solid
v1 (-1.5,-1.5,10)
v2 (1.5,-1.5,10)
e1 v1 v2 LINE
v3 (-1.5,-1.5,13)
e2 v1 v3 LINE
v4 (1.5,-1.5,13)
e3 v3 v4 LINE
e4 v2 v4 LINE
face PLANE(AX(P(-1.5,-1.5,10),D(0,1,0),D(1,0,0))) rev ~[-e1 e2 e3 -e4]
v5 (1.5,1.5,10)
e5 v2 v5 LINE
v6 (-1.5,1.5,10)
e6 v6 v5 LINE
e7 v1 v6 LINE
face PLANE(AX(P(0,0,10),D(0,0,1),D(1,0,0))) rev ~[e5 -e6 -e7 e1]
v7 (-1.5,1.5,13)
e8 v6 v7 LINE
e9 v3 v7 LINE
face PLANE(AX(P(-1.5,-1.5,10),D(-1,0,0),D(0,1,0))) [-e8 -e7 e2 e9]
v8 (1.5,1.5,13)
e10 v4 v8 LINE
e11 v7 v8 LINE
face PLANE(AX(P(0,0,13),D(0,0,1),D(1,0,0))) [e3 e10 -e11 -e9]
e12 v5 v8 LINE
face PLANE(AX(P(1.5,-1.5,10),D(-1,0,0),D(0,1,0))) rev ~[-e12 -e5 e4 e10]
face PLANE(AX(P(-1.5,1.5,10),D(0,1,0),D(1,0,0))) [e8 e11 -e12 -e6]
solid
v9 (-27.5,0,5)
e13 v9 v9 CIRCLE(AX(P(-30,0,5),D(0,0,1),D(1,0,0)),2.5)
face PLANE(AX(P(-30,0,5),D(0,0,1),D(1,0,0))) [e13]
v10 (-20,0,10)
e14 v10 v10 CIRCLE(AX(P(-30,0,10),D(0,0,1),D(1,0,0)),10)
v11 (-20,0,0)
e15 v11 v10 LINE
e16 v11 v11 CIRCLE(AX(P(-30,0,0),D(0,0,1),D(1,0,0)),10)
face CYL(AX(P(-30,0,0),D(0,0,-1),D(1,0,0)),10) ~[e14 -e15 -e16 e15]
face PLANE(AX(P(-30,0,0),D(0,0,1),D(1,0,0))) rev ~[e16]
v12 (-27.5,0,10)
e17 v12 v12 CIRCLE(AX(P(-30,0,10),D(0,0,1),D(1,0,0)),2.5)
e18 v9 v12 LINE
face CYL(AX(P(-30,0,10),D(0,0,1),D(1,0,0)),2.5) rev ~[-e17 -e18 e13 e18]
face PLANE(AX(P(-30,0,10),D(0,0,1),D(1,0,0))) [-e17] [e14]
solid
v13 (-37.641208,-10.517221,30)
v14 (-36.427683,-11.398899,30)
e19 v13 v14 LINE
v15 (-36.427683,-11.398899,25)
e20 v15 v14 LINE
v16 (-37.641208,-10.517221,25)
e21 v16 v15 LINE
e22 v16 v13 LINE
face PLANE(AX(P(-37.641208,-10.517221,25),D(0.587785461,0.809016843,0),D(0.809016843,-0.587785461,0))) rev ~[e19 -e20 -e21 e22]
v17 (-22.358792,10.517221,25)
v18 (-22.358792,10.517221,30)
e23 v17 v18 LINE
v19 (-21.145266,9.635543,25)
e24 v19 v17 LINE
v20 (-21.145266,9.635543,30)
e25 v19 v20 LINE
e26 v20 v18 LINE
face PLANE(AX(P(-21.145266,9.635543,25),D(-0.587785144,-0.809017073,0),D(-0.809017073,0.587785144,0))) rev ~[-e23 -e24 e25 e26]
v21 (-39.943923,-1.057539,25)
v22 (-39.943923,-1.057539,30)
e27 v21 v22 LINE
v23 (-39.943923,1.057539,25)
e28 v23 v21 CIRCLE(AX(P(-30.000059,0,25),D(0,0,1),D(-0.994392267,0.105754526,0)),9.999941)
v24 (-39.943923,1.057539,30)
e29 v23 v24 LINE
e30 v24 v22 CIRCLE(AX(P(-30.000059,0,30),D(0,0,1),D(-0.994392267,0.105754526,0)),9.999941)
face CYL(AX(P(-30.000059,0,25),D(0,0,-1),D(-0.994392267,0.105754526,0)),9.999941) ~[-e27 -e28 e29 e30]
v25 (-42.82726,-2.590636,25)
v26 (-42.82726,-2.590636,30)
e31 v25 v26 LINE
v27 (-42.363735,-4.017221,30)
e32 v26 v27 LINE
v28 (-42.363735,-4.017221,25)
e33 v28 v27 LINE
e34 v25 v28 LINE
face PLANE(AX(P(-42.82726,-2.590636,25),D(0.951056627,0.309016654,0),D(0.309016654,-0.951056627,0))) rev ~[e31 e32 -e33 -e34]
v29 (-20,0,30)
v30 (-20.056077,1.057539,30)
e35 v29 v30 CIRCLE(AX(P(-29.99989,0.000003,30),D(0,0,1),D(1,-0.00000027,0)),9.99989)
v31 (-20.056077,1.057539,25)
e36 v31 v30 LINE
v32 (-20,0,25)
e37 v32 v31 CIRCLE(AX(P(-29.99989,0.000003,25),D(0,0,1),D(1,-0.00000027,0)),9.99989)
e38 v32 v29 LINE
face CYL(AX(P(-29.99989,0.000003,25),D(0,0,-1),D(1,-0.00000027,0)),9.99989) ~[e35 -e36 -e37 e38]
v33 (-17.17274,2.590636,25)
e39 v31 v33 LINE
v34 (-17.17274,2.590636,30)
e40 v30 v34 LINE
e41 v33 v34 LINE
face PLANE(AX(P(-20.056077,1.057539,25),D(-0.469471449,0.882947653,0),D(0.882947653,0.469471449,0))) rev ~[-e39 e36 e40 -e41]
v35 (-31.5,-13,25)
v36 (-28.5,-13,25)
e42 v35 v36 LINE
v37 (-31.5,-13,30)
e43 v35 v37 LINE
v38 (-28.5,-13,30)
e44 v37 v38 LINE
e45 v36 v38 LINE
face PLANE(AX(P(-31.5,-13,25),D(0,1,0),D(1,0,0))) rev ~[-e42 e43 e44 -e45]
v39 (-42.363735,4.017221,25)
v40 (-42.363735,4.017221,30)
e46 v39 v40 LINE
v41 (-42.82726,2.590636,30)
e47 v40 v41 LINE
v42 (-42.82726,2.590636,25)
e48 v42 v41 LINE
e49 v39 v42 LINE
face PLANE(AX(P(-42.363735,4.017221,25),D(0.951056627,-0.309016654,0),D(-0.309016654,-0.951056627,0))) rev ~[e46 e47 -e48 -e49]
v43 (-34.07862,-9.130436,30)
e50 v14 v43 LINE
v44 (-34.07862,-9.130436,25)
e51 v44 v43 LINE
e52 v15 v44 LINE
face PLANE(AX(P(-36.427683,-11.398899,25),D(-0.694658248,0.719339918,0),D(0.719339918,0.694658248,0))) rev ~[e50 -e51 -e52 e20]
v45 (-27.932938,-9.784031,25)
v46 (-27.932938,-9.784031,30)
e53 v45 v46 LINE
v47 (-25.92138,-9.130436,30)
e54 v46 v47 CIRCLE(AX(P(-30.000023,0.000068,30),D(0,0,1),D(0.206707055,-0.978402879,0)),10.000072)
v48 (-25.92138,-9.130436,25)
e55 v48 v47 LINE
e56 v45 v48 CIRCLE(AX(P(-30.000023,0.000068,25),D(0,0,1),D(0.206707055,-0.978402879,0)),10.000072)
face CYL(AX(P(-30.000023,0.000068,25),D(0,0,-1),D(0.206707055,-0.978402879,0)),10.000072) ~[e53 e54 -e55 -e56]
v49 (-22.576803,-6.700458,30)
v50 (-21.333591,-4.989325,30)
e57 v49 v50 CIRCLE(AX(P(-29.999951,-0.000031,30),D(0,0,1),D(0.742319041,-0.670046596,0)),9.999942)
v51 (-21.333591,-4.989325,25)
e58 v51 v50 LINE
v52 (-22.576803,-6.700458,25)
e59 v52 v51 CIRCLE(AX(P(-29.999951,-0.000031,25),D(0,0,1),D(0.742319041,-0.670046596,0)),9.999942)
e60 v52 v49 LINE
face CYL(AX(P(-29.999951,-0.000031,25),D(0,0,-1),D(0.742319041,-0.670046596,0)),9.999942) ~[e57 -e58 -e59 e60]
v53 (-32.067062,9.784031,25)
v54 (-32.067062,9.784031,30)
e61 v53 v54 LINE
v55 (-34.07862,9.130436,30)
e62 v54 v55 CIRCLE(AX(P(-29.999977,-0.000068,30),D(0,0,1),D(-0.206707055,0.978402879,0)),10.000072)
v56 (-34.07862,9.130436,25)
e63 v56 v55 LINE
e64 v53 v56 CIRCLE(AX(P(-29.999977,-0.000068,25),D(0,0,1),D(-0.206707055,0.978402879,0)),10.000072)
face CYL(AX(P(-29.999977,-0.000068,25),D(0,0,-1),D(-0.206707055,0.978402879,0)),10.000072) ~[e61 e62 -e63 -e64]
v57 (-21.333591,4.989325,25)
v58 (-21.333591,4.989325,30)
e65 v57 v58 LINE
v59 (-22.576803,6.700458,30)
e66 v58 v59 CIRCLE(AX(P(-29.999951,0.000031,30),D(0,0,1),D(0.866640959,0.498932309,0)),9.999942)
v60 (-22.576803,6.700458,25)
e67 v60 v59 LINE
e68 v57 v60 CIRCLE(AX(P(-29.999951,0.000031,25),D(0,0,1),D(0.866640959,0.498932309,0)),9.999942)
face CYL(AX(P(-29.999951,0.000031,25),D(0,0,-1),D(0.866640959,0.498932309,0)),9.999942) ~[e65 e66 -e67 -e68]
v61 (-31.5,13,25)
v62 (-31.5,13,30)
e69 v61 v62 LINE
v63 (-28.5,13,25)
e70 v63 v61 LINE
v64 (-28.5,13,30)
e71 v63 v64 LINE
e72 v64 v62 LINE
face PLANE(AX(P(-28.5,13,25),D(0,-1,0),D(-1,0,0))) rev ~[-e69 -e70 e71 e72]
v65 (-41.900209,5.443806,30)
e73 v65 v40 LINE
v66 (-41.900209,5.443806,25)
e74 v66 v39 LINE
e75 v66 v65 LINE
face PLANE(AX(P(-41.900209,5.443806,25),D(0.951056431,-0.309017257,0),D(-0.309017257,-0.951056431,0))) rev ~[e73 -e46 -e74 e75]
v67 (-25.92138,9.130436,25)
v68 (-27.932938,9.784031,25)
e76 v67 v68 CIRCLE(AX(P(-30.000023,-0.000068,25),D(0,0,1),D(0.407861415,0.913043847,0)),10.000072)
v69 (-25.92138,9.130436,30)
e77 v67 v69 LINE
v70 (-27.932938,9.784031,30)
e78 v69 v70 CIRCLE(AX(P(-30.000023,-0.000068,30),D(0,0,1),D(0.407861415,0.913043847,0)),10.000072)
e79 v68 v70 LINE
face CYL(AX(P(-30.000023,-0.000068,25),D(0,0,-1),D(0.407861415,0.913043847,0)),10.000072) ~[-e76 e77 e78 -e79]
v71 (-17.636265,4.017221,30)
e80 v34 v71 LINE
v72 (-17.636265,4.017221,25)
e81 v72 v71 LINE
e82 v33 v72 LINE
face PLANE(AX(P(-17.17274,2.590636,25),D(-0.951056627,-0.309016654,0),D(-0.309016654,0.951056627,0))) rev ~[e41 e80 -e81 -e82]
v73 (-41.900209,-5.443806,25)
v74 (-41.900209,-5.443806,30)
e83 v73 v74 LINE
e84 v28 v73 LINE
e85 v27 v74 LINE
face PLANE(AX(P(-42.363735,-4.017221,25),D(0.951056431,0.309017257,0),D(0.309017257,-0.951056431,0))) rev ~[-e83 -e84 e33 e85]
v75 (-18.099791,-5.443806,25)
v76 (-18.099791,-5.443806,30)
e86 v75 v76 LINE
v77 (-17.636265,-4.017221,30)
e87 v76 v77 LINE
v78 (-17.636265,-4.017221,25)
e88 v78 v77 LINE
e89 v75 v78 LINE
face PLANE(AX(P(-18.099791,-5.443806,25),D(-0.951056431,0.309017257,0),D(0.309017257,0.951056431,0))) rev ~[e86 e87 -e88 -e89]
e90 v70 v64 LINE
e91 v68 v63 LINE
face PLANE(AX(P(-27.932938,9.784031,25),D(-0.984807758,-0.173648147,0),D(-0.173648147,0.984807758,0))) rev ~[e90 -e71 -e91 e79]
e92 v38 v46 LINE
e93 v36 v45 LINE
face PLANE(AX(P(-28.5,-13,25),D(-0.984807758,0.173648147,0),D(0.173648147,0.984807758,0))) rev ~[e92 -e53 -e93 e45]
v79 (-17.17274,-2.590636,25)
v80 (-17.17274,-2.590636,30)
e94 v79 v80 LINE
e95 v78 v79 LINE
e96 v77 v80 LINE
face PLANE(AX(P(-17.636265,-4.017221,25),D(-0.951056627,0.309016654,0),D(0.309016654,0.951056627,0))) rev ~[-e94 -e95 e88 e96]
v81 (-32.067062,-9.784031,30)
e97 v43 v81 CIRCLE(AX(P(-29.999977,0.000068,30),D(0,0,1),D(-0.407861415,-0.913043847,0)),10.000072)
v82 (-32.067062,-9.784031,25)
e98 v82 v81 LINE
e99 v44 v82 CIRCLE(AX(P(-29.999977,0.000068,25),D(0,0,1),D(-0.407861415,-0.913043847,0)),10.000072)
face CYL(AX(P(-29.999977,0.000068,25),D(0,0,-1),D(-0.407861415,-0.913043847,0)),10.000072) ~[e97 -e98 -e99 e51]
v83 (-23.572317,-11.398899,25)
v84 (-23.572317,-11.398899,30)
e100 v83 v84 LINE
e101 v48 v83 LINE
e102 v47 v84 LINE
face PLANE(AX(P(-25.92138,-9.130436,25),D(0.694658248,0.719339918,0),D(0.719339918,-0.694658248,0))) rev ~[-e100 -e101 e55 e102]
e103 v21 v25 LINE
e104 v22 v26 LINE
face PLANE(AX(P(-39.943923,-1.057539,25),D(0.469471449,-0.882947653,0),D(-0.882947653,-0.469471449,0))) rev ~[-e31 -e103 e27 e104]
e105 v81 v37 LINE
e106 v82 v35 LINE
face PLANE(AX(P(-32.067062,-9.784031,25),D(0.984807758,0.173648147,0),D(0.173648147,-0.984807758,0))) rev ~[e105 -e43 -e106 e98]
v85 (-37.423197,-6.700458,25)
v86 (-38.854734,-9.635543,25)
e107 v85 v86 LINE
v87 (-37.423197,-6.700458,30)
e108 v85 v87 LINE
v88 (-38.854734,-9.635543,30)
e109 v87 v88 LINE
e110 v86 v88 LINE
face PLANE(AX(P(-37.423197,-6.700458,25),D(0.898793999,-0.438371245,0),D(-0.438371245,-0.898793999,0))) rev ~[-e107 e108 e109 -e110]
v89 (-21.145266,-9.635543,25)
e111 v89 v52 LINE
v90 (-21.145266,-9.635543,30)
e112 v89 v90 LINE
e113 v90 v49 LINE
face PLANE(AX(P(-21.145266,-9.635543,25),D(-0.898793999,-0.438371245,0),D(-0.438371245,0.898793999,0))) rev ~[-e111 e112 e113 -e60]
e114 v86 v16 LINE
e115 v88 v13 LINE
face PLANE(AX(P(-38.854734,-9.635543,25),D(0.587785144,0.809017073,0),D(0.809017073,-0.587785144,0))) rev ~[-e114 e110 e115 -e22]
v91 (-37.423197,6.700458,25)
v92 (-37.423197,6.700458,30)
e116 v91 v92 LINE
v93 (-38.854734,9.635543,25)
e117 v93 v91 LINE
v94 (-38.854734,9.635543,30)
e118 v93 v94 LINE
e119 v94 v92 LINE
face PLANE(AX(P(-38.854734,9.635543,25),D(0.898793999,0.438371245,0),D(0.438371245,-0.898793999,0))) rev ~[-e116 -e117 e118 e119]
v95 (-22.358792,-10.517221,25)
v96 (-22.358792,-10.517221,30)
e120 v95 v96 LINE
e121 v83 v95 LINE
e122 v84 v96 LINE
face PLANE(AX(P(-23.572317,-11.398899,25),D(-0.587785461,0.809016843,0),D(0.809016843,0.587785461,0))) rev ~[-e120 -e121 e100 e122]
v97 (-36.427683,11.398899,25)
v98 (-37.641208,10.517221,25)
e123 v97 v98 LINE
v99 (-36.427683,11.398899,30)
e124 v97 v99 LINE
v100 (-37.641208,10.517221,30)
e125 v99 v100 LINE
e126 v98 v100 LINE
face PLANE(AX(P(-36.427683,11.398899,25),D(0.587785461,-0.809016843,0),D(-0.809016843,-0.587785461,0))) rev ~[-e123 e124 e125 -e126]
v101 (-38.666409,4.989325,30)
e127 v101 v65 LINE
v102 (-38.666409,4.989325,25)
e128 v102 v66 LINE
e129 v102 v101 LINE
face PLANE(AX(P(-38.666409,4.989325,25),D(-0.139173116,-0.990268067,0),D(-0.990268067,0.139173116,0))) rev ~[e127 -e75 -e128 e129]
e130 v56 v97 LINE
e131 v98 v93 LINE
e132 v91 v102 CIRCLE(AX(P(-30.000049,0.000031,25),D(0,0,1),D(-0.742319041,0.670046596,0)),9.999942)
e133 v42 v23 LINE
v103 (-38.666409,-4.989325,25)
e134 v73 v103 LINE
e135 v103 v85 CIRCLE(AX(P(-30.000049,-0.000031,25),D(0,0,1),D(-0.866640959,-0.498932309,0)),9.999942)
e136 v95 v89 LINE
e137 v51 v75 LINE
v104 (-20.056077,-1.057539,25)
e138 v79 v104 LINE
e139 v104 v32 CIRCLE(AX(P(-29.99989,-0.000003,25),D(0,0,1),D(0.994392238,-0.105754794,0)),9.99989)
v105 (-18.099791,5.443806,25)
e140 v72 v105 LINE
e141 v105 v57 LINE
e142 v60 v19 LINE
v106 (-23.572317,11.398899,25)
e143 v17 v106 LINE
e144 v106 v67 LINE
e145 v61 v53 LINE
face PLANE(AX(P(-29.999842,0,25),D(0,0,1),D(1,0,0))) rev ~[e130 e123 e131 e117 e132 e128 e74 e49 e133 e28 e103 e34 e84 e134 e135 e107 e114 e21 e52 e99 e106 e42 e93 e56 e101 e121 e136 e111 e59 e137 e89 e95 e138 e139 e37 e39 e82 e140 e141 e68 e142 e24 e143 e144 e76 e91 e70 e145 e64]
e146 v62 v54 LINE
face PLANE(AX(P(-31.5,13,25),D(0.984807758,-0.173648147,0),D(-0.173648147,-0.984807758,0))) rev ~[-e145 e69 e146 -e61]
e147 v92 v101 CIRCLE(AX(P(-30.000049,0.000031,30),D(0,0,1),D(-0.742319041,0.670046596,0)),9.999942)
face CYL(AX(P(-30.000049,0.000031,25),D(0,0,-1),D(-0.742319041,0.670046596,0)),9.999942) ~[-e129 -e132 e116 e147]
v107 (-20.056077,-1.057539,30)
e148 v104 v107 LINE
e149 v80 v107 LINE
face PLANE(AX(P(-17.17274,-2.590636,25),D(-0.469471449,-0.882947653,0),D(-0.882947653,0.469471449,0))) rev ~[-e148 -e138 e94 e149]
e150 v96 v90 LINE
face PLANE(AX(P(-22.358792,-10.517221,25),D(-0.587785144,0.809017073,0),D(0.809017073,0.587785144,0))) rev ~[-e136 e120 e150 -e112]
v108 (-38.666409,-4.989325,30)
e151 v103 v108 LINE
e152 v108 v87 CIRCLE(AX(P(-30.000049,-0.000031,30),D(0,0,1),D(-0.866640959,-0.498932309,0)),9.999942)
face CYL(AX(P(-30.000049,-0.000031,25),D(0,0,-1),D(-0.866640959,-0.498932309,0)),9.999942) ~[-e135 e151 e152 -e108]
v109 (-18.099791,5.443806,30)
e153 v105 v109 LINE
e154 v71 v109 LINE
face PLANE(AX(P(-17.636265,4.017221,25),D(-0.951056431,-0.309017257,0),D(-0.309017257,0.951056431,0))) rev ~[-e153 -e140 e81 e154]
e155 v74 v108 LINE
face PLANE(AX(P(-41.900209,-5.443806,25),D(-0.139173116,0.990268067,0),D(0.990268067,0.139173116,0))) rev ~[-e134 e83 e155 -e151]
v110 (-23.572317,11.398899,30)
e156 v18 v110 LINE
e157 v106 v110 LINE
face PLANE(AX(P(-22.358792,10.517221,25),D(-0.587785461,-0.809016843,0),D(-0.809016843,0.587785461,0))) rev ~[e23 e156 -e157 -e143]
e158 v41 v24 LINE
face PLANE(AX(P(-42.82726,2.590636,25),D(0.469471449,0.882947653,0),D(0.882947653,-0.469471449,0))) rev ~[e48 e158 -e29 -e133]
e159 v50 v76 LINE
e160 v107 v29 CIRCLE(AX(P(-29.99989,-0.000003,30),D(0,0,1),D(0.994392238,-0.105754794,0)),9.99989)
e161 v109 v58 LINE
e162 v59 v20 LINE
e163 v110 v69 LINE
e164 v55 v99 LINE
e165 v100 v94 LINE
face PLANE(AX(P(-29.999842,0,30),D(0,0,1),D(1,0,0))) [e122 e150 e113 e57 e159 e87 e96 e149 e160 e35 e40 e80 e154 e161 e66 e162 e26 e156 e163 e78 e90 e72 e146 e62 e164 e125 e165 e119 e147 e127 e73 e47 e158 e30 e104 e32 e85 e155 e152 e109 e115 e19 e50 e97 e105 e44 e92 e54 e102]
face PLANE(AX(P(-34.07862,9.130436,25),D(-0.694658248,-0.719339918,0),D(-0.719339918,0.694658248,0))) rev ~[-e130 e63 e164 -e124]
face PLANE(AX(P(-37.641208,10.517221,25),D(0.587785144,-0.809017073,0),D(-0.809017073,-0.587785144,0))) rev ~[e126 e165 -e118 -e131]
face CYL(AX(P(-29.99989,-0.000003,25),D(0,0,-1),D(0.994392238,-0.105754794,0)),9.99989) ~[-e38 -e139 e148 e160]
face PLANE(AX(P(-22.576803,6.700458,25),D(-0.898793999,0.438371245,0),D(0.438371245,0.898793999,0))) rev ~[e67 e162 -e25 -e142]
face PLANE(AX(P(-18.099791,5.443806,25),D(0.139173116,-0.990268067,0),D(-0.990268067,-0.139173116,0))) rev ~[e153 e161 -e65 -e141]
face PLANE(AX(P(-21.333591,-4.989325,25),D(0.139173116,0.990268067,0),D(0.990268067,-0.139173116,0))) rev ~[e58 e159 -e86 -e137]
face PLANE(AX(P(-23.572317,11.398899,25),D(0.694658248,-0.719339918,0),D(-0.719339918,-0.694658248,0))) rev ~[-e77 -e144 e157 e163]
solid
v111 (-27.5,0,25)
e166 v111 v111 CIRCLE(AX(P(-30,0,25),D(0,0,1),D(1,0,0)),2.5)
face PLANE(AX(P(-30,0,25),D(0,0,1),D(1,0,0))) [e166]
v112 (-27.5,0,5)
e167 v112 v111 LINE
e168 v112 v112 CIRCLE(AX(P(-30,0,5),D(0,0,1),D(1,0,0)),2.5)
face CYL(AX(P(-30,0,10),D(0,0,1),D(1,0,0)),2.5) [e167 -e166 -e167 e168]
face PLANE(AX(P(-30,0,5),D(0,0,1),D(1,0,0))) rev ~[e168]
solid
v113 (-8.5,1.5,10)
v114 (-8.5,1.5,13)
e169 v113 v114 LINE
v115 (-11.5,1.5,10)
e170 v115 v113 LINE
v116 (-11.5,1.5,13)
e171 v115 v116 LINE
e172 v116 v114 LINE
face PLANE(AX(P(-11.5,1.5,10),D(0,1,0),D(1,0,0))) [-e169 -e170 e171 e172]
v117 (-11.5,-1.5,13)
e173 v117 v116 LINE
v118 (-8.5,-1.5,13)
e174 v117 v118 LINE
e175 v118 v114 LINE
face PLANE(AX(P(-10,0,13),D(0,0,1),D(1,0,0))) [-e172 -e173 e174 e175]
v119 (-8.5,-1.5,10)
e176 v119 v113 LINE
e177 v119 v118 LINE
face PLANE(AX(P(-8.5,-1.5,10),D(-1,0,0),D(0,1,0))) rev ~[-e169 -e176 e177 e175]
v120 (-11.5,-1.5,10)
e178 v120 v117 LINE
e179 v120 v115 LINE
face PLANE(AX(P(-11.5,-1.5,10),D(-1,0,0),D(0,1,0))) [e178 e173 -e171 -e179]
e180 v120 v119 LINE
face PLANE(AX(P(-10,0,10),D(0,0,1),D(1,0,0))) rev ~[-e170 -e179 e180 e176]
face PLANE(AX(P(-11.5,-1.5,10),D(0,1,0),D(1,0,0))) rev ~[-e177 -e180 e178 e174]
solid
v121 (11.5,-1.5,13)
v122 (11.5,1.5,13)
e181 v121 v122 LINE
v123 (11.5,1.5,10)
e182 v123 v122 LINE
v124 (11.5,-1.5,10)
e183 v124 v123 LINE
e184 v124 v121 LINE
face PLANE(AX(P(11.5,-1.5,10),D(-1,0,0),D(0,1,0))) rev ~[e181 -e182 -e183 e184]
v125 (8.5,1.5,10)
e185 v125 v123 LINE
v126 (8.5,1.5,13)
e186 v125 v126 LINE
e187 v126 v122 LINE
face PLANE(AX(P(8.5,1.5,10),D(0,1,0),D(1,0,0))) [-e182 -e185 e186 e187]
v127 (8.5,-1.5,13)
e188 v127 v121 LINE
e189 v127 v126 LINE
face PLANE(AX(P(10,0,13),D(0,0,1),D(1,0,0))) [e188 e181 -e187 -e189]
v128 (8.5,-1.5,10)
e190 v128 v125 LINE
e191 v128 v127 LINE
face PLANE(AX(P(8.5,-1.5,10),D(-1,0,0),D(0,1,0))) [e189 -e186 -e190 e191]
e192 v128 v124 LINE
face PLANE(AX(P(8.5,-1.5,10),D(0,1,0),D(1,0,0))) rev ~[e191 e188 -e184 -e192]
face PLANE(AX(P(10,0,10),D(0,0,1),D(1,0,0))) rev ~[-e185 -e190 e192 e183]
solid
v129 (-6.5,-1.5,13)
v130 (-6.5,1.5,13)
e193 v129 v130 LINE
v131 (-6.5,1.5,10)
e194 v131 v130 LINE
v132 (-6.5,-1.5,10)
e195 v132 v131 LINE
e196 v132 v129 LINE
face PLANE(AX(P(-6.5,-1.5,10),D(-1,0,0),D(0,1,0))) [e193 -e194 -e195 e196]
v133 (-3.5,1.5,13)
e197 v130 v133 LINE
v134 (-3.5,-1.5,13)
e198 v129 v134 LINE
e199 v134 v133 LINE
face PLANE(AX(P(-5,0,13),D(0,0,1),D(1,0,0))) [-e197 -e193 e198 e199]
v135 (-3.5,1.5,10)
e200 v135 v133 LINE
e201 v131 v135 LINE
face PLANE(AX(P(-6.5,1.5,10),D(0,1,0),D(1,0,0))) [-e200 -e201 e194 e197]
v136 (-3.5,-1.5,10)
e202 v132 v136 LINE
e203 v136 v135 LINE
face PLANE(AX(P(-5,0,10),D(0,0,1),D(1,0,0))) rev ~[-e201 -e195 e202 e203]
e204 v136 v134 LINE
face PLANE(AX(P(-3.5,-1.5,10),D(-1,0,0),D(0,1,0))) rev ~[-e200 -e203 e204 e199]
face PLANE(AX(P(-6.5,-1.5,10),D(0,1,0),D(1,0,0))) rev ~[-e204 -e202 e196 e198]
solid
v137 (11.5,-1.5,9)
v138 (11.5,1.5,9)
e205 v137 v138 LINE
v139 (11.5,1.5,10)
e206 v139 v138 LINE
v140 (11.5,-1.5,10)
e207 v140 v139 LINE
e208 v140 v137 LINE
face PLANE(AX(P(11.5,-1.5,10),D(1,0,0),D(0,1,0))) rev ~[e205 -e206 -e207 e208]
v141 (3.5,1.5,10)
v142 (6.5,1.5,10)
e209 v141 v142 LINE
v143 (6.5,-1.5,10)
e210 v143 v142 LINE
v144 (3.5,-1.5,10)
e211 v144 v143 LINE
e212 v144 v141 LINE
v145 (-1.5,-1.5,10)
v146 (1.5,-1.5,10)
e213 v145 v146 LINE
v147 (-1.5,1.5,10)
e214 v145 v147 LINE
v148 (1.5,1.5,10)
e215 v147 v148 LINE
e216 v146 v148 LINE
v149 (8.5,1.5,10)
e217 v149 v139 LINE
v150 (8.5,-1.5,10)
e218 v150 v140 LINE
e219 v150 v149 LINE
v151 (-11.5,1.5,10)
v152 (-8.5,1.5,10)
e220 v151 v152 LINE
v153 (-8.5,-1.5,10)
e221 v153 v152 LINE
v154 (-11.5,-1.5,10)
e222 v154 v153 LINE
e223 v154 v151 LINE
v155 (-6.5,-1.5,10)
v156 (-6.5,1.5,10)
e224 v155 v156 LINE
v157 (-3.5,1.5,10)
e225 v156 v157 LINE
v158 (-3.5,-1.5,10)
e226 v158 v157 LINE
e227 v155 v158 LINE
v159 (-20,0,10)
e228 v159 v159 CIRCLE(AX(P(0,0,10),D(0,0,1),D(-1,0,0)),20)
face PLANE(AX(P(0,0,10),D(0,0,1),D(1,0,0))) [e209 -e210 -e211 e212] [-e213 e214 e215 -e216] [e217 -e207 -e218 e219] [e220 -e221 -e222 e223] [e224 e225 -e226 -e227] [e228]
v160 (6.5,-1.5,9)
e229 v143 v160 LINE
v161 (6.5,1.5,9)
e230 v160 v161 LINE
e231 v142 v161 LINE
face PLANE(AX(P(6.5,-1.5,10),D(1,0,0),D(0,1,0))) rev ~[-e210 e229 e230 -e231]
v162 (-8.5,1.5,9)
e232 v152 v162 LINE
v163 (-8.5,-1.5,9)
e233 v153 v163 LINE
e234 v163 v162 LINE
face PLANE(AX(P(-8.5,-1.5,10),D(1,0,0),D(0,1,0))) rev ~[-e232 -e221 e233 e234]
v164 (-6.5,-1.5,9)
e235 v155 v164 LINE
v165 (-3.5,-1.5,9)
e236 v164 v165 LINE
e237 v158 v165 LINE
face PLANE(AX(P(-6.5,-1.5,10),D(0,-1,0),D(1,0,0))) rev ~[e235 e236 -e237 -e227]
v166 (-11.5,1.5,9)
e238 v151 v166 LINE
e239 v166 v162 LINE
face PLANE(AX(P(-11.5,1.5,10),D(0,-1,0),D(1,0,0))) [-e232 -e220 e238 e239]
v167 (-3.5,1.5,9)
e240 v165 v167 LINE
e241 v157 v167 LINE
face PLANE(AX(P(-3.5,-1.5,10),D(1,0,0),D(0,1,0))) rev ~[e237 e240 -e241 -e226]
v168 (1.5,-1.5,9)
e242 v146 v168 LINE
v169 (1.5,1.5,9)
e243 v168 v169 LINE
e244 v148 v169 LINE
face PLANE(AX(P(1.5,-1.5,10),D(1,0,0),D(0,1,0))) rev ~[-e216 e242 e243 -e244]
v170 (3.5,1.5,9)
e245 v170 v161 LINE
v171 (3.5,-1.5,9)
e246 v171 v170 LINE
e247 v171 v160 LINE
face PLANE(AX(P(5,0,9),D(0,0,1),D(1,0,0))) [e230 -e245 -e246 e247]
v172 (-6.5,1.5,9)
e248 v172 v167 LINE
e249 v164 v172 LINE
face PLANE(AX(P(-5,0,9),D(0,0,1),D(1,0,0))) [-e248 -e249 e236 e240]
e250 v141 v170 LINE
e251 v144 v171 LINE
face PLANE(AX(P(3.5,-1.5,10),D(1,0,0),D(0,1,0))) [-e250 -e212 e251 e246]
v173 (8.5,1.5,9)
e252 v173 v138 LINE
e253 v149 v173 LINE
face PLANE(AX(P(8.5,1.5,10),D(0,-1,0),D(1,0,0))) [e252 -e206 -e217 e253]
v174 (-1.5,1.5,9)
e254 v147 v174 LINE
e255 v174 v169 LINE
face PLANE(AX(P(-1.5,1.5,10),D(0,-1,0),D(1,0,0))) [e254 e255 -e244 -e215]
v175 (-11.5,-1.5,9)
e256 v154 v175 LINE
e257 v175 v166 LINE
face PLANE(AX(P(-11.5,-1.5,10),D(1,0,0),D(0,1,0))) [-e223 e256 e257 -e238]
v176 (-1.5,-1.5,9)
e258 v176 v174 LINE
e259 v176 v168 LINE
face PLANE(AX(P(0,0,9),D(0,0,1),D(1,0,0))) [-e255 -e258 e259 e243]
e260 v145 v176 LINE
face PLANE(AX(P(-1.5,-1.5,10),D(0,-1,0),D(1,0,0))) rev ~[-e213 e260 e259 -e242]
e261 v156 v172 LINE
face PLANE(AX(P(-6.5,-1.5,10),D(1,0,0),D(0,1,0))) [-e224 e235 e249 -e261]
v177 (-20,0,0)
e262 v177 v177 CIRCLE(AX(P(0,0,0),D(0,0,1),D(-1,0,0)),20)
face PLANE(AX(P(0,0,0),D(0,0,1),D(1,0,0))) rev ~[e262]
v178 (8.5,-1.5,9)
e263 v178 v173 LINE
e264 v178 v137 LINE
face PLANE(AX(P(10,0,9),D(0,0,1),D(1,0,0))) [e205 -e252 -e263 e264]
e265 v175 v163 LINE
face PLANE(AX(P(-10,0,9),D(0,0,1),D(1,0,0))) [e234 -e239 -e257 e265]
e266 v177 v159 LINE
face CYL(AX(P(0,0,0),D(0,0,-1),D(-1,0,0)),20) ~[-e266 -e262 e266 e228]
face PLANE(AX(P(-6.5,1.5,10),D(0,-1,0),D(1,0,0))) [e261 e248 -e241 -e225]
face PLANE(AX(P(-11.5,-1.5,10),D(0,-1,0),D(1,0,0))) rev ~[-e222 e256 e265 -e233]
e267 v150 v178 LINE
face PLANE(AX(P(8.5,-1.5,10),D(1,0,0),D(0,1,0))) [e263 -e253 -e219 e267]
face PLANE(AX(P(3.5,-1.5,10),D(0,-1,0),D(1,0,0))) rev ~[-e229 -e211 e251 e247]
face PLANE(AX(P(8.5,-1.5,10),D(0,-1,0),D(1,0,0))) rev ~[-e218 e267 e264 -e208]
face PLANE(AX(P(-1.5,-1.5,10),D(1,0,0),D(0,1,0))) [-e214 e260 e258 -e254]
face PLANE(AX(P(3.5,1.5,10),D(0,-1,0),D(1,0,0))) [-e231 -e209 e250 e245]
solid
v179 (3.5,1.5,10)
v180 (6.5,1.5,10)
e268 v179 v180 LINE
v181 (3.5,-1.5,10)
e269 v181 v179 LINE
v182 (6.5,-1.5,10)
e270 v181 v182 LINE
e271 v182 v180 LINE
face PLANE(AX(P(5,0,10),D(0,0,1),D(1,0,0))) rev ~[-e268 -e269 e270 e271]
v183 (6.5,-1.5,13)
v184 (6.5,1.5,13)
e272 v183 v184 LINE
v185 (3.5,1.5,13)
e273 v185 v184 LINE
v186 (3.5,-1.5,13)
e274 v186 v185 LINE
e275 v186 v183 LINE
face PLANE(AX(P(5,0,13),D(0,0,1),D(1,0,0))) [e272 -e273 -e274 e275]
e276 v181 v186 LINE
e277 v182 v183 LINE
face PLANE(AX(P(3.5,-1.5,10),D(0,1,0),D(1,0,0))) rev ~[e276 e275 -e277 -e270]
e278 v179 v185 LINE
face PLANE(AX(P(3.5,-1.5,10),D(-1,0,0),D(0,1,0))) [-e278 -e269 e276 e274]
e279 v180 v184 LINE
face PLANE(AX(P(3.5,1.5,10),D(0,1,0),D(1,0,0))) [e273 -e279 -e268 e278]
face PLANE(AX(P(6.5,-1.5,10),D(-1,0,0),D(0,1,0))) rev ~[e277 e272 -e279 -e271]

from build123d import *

# Parameters (mm, degrees)
F0_R          = 10
F1_DEPTH      = 10
F2_R          = 2.5
F3_DEPTH      = 15
F3_DEPTH_BACK = 5
F5_DEPTH      = 5
F7_W          = 3
F7_H          = 3
F8_DEPTH      = 1
F9_DEPTH      = 3


with BuildPart() as f1:
    # F0 (on Top) → F1 (new body)
    with BuildSketch(Plane.XY):
        with BuildLine():
            ThreePointArc((-20, 0), (0, -20), (20, 0))
            ThreePointArc((20, 0), (0, 20), (-20, 0))
        make_face()
        with Locations((-30, 0)):
            Circle(F0_R)
    extrude(amount=F1_DEPTH)


with BuildPart() as f3:
    # F2 (on face) → F3 (new body, two sides)
    with BuildSketch(Plane.XY.offset(10)) as f3_sk:
        with Locations((-30, 0)):
            Circle(F2_R)
    extrude(amount=F3_DEPTH)
    extrude(f3_sk.sketch, amount=-F3_DEPTH_BACK)


with BuildPart() as f5:
    # F4 (on face) → F5 (new body)
    with BuildSketch(Plane.XY.offset(25)):
        with BuildLine():
            ThreePointArc((-20.056077, -1.057539), (-20.014029, -0.529512), (-20, 0))
            ThreePointArc((-20, 0), (-20.014029, 0.529512), (-20.056077, 1.057539))
            ThreePointArc((-20.056077, 1.057539), (-20.489435, 3.09017), (-21.333591, 4.989325))
            ThreePointArc((-21.333591, 4.989325), (-21.90983, 5.877853), (-22.576803, 6.700458))
            ThreePointArc((-22.576803, 6.700458), (-24.122147, 8.09017), (-25.92138, 9.130436))
            ThreePointArc((-25.92138, 9.130436), (-26.90983, 9.510565), (-27.932938, 9.784031))
            ThreePointArc((-27.932938, 9.784031), (-30, 10), (-32.067062, 9.784031))
            ThreePointArc((-32.067062, 9.784031), (-33.09017, 9.510565), (-34.07862, 9.130436))
            ThreePointArc((-34.07862, 9.130436), (-35.877853, 8.09017), (-37.423197, 6.700458))
            ThreePointArc((-37.423197, 6.700458), (-38.09017, 5.877853), (-38.666409, 4.989325))
            ThreePointArc((-38.666409, 4.989325), (-39.510565, 3.09017), (-39.943923, 1.057539))
            ThreePointArc((-39.943923, 1.057539), (-40, 0), (-39.943923, -1.057539))
            ThreePointArc((-39.943923, -1.057539), (-39.510565, -3.09017), (-38.666409, -4.989325))
            ThreePointArc((-38.666409, -4.989325), (-38.09017, -5.877853), (-37.423197, -6.700458))
            ThreePointArc((-37.423197, -6.700458), (-35.877853, -8.09017), (-34.07862, -9.130436))
            ThreePointArc((-34.07862, -9.130436), (-33.09017, -9.510565), (-32.067062, -9.784031))
            ThreePointArc((-32.067062, -9.784031), (-30, -10), (-27.932938, -9.784031))
            ThreePointArc((-27.932938, -9.784031), (-26.90983, -9.510565), (-25.92138, -9.130436))
            ThreePointArc((-25.92138, -9.130436), (-24.122147, -8.09017), (-22.576803, -6.700458))
            ThreePointArc((-22.576803, -6.700458), (-21.90983, -5.877853), (-21.333591, -4.989325))
            ThreePointArc((-21.333591, -4.989325), (-20.489435, -3.09017), (-20.056077, -1.057539))
        make_face()
        with BuildLine():
            ThreePointArc((-21.333591, 4.989325), (-20.489435, 3.09017), (-20.056077, 1.057539))
            Line((-20.056077, 1.057539), (-17.17274, 2.590636))
            Line((-17.17274, 2.590636), (-17.636265, 4.017221))
            Line((-17.636265, 4.017221), (-18.099791, 5.443806))
            Line((-18.099791, 5.443806), (-21.333591, 4.989325))
        make_face()
        with BuildLine():
            Line((-17.17274, -2.590636), (-20.056077, -1.057539))
            ThreePointArc((-20.056077, -1.057539), (-20.489435, -3.09017), (-21.333591, -4.989325))
            Line((-21.333591, -4.989325), (-18.099791, -5.443806))
            Line((-18.099791, -5.443806), (-17.636265, -4.017221))
            Line((-17.636265, -4.017221), (-17.17274, -2.590636))
        make_face()
        with BuildLine():
            ThreePointArc((-25.92138, 9.130436), (-24.122147, 8.09017), (-22.576803, 6.700458))
            Line((-22.576803, 6.700458), (-21.145266, 9.635543))
            Line((-21.145266, 9.635543), (-22.358792, 10.517221))
            Line((-22.358792, 10.517221), (-23.572317, 11.398899))
            Line((-23.572317, 11.398899), (-25.92138, 9.130436))
        make_face()
        with BuildLine():
            Line((-21.145266, -9.635543), (-22.576803, -6.700458))
            ThreePointArc((-22.576803, -6.700458), (-24.122147, -8.09017), (-25.92138, -9.130436))
            Line((-25.92138, -9.130436), (-23.572317, -11.398899))
            Line((-23.572317, -11.398899), (-22.358792, -10.517221))
            Line((-22.358792, -10.517221), (-21.145266, -9.635543))
        make_face()
        with BuildLine():
            ThreePointArc((-32.067062, 9.784031), (-30, 10), (-27.932938, 9.784031))
            Line((-27.932938, 9.784031), (-28.5, 13))
            Line((-28.5, 13), (-30, 13))
            Line((-30, 13), (-31.5, 13))
            Line((-31.5, 13), (-32.067062, 9.784031))
        make_face()
        with BuildLine():
            Line((-28.5, -13), (-27.932938, -9.784031))
            ThreePointArc((-27.932938, -9.784031), (-30, -10), (-32.067062, -9.784031))
            Line((-32.067062, -9.784031), (-31.5, -13))
            Line((-31.5, -13), (-30, -13))
            Line((-30, -13), (-28.5, -13))
        make_face()
        with BuildLine():
            ThreePointArc((-37.423197, 6.700458), (-35.877853, 8.09017), (-34.07862, 9.130436))
            Line((-34.07862, 9.130436), (-36.427683, 11.398899))
            Line((-36.427683, 11.398899), (-37.641208, 10.517221))
            Line((-37.641208, 10.517221), (-38.854734, 9.635543))
            Line((-38.854734, 9.635543), (-37.423197, 6.700458))
        make_face()
        with BuildLine():
            Line((-36.427683, -11.398899), (-34.07862, -9.130436))
            ThreePointArc((-34.07862, -9.130436), (-35.877853, -8.09017), (-37.423197, -6.700458))
            Line((-37.423197, -6.700458), (-38.854734, -9.635543))
            Line((-38.854734, -9.635543), (-37.641208, -10.517221))
            Line((-37.641208, -10.517221), (-36.427683, -11.398899))
        make_face()
        with BuildLine():
            ThreePointArc((-39.943923, 1.057539), (-39.510565, 3.09017), (-38.666409, 4.989325))
            Line((-38.666409, 4.989325), (-41.900209, 5.443806))
            Line((-41.900209, 5.443806), (-42.363735, 4.017221))
            Line((-42.363735, 4.017221), (-42.82726, 2.590636))
            Line((-42.82726, 2.590636), (-39.943923, 1.057539))
        make_face()
        with BuildLine():
            Line((-41.900209, -5.443806), (-38.666409, -4.989325))
            ThreePointArc((-38.666409, -4.989325), (-39.510565, -3.09017), (-39.943923, -1.057539))
            Line((-39.943923, -1.057539), (-42.82726, -2.590636))
            Line((-42.82726, -2.590636), (-42.363735, -4.017221))
            Line((-42.363735, -4.017221), (-41.900209, -5.443806))
        make_face()
    extrude(amount=F5_DEPTH)


with BuildPart() as f1_1:
    add(f1.part)

    # F6: cut F3
    add(f3.part, mode=Mode.SUBTRACT)

    # F7 (on face) → F8 (cut)
    with BuildSketch(Plane.XY.offset(10)):
        Rectangle(F7_W, F7_H)
        with Locations((5, 0)):
            Rectangle(F7_W, F7_H)
        with Locations((10, 0)):
            Rectangle(F7_W, F7_H)
        with Locations((-5, 0)):
            Rectangle(F7_W, F7_H)
        with Locations((-10, 0)):
            Rectangle(F7_W, F7_H)
    extrude(amount=-F8_DEPTH, mode=Mode.SUBTRACT)


with BuildPart() as f9:
    # F7 (on face) → F9 (new body)
    with BuildSketch(Plane.XY.offset(10)):
        Rectangle(F7_W, F7_H)
        with Locations((5, 0)):
            Rectangle(F7_W, F7_H)
        with Locations((10, 0)):
            Rectangle(F7_W, F7_H)
        with Locations((-5, 0)):
            Rectangle(F7_W, F7_H)
        with Locations((-10, 0)):
            Rectangle(F7_W, F7_H)
    extrude(amount=F9_DEPTH)


solid = Compound([f3.part, f5.part, f1_1.part, f9.part])
